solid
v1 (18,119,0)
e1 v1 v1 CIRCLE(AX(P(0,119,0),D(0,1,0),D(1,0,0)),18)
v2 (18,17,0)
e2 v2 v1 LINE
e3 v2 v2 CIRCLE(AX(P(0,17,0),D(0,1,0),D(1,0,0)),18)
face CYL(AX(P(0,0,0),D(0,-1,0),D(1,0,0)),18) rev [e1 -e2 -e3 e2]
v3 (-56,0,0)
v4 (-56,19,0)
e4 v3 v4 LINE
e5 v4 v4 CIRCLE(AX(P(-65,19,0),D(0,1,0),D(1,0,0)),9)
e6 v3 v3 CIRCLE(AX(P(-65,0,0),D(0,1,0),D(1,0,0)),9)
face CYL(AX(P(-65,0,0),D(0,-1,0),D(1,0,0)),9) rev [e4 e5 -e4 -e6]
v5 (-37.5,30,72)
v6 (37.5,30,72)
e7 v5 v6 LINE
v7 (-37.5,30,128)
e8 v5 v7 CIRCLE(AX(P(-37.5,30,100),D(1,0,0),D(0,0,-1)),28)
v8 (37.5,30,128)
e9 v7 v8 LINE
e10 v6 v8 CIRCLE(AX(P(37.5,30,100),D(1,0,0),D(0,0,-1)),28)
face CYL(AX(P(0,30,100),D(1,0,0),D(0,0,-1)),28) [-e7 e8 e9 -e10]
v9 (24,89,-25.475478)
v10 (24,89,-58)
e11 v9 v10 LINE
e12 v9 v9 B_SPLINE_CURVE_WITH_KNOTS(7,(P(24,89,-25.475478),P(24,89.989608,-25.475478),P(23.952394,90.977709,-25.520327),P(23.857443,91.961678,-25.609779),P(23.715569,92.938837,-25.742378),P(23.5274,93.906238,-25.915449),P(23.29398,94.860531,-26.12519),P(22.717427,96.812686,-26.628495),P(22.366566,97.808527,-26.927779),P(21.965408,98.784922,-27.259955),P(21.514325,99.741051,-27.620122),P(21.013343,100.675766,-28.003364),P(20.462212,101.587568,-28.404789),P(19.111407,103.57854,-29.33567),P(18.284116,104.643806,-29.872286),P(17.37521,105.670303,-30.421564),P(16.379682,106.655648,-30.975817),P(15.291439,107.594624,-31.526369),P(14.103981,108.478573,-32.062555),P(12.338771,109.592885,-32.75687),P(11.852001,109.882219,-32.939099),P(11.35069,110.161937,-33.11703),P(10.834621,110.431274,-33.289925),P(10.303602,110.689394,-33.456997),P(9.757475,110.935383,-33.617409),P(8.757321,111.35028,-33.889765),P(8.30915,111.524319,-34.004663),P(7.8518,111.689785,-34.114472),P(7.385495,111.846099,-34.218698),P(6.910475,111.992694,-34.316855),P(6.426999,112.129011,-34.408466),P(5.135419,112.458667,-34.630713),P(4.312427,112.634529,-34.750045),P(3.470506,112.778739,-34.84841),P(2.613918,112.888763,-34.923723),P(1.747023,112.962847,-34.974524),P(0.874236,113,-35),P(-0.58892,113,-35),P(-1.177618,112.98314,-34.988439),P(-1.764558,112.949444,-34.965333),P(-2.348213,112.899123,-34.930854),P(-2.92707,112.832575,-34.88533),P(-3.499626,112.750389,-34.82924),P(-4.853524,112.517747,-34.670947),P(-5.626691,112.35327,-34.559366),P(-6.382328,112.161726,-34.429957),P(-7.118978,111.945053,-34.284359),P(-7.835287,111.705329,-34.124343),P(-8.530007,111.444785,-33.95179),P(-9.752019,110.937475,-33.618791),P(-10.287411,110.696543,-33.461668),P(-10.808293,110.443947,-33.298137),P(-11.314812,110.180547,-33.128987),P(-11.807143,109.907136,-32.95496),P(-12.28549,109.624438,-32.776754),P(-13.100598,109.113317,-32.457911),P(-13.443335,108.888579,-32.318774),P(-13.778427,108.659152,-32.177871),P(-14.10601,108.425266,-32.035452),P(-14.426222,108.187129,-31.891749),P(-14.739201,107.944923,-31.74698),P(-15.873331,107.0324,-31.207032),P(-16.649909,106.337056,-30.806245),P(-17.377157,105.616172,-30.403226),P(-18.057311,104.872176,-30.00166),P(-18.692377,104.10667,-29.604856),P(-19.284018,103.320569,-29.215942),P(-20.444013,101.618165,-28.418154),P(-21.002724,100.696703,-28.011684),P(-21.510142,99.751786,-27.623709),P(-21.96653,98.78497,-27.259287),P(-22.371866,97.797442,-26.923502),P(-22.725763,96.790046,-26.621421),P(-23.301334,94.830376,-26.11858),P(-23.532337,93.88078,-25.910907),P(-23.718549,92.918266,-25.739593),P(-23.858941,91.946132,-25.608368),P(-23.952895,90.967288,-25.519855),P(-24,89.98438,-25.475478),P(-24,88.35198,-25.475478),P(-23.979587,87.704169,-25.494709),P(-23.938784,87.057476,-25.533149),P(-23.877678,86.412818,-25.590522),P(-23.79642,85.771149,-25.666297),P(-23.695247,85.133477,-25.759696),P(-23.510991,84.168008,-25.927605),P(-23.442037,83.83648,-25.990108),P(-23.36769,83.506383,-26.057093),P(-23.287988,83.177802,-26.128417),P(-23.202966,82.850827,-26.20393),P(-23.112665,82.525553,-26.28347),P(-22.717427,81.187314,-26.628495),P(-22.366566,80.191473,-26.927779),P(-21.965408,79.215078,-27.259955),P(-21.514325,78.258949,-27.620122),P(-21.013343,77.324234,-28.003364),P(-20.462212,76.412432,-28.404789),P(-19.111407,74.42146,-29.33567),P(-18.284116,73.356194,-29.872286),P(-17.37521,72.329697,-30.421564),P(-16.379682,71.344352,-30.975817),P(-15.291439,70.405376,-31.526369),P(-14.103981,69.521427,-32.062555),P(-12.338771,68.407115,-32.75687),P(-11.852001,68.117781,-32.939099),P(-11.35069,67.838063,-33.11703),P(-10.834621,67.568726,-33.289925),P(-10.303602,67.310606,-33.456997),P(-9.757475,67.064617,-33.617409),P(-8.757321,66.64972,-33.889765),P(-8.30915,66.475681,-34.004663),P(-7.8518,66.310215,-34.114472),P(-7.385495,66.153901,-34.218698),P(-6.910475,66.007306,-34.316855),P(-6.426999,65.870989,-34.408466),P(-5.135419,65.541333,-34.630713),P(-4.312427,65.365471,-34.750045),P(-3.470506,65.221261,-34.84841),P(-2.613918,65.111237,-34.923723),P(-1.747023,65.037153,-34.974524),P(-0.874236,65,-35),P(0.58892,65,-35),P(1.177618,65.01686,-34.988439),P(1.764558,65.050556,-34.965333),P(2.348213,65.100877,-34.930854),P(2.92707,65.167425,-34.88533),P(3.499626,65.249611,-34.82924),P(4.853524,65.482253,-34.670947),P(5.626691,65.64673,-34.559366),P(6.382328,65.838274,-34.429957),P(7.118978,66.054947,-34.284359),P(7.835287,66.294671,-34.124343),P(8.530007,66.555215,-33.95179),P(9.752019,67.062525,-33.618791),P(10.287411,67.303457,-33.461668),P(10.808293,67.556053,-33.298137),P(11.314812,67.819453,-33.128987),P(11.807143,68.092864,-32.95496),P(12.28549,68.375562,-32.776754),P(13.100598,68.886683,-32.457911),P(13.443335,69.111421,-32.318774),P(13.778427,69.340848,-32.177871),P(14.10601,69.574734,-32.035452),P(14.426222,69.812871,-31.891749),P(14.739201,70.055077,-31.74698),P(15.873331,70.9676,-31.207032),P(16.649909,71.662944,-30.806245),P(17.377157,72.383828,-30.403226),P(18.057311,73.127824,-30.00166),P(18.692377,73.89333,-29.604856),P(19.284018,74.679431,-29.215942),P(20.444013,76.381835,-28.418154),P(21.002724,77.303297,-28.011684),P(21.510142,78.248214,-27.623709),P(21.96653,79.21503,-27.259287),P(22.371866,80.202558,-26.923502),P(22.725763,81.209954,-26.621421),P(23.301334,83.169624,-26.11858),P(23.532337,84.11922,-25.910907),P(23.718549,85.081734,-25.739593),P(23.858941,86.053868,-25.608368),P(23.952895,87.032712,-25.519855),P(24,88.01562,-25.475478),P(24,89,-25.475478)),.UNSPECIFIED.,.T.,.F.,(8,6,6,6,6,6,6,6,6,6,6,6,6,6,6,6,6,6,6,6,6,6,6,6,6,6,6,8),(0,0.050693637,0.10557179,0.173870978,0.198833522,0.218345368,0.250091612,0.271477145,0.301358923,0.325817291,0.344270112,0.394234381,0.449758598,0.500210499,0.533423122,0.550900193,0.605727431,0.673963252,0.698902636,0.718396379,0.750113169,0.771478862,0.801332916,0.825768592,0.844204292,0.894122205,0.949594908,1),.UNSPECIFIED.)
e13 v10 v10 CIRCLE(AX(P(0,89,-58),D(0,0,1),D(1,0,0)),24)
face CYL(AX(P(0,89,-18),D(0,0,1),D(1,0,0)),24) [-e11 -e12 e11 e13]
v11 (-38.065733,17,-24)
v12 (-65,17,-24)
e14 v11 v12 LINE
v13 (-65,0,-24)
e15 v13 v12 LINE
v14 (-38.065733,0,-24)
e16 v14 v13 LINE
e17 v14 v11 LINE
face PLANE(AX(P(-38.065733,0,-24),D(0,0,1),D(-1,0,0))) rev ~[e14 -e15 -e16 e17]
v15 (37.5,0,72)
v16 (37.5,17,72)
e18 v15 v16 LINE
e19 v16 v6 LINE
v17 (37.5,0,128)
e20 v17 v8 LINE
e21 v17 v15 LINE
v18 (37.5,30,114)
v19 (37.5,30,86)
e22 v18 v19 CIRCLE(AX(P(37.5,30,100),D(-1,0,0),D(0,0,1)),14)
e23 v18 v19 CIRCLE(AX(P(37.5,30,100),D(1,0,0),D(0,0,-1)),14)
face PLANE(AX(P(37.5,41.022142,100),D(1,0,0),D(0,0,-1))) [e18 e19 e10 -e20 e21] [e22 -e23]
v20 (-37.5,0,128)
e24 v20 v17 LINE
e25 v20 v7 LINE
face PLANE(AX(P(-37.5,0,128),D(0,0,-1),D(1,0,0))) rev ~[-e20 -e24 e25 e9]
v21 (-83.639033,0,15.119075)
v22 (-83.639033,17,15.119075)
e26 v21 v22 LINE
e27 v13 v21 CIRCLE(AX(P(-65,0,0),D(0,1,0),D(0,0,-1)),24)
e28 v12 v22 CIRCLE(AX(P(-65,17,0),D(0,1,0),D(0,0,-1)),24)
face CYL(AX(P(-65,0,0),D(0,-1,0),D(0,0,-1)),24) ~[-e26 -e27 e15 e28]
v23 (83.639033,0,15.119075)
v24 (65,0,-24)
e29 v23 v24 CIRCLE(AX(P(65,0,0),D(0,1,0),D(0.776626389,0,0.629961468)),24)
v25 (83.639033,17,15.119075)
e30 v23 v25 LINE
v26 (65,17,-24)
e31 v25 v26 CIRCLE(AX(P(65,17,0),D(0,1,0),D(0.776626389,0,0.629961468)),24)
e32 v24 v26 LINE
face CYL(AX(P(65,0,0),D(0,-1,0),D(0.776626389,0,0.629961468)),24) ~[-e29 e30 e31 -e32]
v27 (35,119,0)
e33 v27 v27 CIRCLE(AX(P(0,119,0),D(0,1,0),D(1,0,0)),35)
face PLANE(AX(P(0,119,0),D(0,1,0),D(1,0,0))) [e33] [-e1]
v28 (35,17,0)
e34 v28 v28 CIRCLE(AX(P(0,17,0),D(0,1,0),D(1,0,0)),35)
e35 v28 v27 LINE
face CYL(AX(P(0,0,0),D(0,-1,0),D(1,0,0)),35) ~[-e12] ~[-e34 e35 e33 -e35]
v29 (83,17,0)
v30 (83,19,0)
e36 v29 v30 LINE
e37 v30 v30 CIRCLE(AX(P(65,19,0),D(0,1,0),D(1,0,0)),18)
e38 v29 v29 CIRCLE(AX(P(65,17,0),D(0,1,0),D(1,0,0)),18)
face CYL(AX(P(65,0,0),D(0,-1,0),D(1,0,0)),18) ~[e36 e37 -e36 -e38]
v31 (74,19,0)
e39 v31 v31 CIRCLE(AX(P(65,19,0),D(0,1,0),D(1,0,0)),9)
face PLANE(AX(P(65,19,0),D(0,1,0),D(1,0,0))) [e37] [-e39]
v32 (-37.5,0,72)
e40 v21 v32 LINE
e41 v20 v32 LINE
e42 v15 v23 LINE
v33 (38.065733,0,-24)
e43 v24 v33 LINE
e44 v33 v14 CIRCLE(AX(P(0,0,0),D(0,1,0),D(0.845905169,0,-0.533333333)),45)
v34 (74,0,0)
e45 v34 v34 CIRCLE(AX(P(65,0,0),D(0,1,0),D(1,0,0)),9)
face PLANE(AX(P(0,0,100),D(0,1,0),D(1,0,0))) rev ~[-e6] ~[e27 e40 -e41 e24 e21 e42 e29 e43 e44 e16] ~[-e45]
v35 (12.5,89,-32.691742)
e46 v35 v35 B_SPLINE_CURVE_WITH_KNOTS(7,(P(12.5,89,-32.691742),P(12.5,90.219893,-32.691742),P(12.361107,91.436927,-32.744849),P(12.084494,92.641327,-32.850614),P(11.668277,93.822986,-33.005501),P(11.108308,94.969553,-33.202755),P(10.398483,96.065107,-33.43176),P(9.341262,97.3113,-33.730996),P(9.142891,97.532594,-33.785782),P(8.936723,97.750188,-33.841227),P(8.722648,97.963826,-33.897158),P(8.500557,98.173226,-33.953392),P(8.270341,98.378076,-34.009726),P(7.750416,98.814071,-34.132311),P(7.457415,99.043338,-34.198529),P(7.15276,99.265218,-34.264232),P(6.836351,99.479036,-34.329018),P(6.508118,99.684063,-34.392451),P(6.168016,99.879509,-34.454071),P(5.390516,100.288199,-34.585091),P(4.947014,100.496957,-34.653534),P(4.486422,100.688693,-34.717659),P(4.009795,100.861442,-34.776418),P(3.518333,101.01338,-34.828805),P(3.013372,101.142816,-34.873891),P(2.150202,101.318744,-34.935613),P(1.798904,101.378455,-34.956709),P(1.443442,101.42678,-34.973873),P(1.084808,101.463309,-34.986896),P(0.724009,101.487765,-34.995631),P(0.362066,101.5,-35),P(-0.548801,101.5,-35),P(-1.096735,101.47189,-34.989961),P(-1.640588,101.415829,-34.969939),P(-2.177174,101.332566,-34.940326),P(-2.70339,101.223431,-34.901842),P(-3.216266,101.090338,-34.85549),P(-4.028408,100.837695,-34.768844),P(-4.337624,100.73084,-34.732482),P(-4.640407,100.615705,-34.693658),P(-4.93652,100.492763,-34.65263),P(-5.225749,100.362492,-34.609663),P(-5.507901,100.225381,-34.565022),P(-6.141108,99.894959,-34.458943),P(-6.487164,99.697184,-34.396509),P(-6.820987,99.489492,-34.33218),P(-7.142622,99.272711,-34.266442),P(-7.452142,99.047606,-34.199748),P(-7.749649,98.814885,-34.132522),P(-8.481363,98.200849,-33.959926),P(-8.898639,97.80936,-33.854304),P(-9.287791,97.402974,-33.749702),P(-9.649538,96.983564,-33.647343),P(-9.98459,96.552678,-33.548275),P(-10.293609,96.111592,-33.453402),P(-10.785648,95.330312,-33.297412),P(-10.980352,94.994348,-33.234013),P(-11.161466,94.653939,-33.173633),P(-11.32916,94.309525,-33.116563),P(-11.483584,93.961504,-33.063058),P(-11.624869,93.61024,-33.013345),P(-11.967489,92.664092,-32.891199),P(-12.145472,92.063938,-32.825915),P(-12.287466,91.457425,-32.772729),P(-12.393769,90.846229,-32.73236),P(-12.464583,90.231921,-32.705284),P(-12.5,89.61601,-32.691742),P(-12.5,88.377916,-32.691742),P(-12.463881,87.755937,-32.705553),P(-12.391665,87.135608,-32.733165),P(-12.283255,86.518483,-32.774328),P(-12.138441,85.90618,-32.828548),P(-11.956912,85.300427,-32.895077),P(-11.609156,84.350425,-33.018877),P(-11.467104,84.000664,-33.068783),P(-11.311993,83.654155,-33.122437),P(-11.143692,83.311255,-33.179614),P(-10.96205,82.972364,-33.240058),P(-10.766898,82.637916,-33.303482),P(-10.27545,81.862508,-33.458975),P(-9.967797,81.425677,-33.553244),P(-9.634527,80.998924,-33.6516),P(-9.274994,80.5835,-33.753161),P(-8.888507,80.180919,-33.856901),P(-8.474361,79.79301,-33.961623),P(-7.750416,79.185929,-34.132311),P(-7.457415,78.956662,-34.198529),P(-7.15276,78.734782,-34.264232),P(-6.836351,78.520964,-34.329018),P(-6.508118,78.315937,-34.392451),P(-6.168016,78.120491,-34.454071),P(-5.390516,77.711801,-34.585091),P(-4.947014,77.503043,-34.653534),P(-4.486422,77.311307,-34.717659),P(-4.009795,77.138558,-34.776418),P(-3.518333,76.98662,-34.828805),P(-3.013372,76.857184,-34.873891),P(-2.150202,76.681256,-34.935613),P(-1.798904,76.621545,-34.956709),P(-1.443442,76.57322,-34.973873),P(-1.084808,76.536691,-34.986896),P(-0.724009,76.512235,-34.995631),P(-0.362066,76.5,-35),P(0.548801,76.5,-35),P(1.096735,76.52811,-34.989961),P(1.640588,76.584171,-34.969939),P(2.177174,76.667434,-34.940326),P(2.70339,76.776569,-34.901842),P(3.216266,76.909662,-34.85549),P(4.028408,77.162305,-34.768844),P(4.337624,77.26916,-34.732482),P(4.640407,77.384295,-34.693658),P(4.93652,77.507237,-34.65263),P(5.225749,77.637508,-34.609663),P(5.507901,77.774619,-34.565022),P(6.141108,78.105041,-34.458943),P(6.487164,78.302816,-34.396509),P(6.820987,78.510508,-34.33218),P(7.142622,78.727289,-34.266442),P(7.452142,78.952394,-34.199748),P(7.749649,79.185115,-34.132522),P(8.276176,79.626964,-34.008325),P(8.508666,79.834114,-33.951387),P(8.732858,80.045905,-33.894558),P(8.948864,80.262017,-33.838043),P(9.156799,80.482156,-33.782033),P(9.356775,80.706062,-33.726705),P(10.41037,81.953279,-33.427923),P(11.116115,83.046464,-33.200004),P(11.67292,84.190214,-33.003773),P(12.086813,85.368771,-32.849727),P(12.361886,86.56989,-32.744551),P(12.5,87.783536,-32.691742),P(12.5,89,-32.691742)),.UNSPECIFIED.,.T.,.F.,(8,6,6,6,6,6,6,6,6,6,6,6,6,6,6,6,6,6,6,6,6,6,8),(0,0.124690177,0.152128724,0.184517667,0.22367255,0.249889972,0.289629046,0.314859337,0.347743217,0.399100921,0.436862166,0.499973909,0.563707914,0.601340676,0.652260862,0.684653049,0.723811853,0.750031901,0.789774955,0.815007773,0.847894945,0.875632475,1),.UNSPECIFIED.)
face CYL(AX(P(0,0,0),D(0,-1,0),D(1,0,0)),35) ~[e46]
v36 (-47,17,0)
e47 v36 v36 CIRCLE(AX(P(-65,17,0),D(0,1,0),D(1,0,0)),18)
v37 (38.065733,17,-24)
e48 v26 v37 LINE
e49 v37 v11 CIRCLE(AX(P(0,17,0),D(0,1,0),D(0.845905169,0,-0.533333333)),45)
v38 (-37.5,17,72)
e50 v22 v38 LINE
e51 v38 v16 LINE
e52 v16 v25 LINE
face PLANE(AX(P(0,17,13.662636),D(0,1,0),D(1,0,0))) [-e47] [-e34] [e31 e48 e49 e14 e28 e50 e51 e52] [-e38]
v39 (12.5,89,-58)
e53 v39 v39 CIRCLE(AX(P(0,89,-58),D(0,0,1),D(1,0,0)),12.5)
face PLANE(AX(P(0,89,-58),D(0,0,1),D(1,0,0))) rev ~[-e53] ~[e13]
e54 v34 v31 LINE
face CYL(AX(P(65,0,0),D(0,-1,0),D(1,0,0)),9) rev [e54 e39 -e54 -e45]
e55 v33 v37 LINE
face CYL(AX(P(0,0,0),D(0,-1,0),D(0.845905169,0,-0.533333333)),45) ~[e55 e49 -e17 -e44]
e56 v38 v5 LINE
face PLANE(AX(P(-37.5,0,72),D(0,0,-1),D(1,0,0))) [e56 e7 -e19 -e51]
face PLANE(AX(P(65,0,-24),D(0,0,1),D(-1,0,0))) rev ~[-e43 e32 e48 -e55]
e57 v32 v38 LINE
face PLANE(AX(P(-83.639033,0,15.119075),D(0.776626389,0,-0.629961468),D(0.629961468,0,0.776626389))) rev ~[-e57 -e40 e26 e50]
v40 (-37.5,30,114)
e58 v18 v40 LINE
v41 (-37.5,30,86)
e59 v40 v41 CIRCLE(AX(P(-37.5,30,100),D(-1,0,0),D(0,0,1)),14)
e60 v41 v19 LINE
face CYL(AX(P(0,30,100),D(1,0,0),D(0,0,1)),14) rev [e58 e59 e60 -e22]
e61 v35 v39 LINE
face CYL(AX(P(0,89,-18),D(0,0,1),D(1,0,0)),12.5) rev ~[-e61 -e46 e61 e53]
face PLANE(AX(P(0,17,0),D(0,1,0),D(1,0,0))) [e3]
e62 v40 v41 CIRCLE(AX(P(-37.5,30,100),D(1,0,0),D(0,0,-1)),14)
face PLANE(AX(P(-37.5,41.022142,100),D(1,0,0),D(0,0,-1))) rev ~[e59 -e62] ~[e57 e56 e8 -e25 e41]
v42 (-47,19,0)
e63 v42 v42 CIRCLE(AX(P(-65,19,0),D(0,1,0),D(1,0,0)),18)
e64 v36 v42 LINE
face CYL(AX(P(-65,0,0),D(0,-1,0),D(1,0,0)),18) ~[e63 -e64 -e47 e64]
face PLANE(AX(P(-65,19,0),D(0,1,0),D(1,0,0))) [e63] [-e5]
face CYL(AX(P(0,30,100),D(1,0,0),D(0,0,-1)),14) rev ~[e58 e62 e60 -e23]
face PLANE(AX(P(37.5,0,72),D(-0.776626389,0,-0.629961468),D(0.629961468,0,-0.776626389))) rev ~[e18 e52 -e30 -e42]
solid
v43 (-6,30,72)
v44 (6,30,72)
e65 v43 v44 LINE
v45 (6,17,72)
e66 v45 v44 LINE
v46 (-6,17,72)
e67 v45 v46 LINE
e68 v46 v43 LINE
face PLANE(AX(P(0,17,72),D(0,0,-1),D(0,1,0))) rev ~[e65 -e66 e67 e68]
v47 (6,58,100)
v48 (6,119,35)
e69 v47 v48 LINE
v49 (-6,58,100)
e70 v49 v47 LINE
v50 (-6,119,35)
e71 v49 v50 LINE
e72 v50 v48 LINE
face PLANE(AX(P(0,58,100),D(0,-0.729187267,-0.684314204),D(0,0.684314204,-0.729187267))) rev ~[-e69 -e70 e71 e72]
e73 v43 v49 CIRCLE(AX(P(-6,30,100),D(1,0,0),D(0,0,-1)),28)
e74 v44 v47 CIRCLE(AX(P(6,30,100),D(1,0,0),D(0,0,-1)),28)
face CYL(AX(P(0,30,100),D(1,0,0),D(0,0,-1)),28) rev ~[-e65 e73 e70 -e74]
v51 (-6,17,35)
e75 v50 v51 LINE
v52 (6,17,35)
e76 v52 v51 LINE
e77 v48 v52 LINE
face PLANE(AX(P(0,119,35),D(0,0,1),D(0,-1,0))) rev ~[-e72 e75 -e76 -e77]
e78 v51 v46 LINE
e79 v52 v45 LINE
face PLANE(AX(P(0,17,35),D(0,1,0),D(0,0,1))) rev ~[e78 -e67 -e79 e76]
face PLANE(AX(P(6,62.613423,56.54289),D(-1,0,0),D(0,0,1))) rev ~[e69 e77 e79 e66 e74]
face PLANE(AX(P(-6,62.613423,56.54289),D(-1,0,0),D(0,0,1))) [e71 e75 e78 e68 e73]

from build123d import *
from build123d.topology import SkipClean

# Parameters (mm, degrees)
SKETCH1_R             = 35
SKETCH1_R_2           = 18
BOSS_EXTRUDE1_DEPTH   = 17
BOSS_EXTRUDE1_2_DEPTH = 17
SKETCH1_4_R           = 18
SKETCH1_4_R_2         = 9
BOSS_EXTRUDE2_DEPTH   = 19
SKETCH1_6_R           = 35
SKETCH1_6_R_2         = 18
BOSS_EXTRUDE3_DEPTH   = 119
BOSS_EXTRUDE4_START   = -18
SKETCH4_R             = 24
SKETCH4_R_2           = 12.5
BOSS_EXTRUDE4_DEPTH   = 40
SKETCH5_W             = 75
SKETCH5_H             = 56
BOSS_EXTRUDE5_DEPTH   = 30
BOSS_EXTRUDE6_DEPTH   = 37.5
SKETCH6_3_R           = 14
CUT_EXTRUDE2_DEPTH    = 37.5
BOSS_EXTRUDE14_DEPTH  = 6


with BuildPart() as part:
    # Sketch1 → Boss-Extrude1 (new body)
    with BuildSketch(Plane(origin=(0, 0, 0), x_dir=(1, 0, 0), z_dir=(0, 1, 0))):
        with BuildLine():
            ThreePointArc((38.065732621, 24), (0, 45), (-38.065732621, 24))
            Line((-38.065732621, 24), (-65, 24))
            ThreePointArc((-65, 24), (-86.666308011, 10.323327815), (-83.639033344, -15.119075236))
            Line((-83.639033344, -15.119075236), (-37.5, -72))
            Line((-37.5, -72), (37.5, -72))
            Line((37.5, -72), (83.639033344, -15.119075236))
            ThreePointArc((83.639033344, -15.119075236), (86.666308011, 10.323327815), (65, 24))
            Line((65, 24), (38.065732621, 24))
        make_face()
        Circle(SKETCH1_R, mode=Mode.SUBTRACT)
        with Locations((65, 0)):
            Circle(SKETCH1_R_2, mode=Mode.SUBTRACT)
        with Locations((-65, 0)):
            Circle(SKETCH1_R_2, mode=Mode.SUBTRACT)
    extrude(amount=BOSS_EXTRUDE1_DEPTH)

    # Sketch1<4> → Boss-Extrude2 (add)
    # profile 1 of 2: a face of its own
    with BuildSketch(Plane(origin=(0, 0, 0), x_dir=(1, 0, 0), z_dir=(0, 1, 0))):
        with Locations((-65, 0)):
            Circle(SKETCH1_4_R)
        with Locations((-65, 0)):
            Circle(SKETCH1_4_R_2, mode=Mode.SUBTRACT)
    # profile 2 of 2: a face of its own
    with BuildSketch(Plane(origin=(0, 0, 0), x_dir=(1, 0, 0), z_dir=(0, 1, 0))):
        with Locations((65, 0)):
            Circle(SKETCH1_4_R)
        with Locations((65, 0)):
            Circle(SKETCH1_4_R_2, mode=Mode.SUBTRACT)
    extrude(amount=BOSS_EXTRUDE2_DEPTH)



with BuildPart() as body_2:
    # Sketch1 → Boss-Extrude1 2 (new body)
    with BuildSketch(Plane(origin=(0, 0, 0), x_dir=(1, 0, 0), z_dir=(0, 1, 0))):
        Circle(SKETCH1_R_2)
    extrude(amount=BOSS_EXTRUDE1_2_DEPTH)


with BuildPart() as part_1:
    add(part.part)

    add(body_2.part)  # Boss-Extrude3 merges body 2
    # Sketch1<6> → Boss-Extrude3 (add)
    with BuildSketch(Plane(origin=(0, 0, 0), x_dir=(1, 0, 0), z_dir=(0, 1, 0))):
        Circle(SKETCH1_6_R)
        Circle(SKETCH1_6_R_2, mode=Mode.SUBTRACT)
    extrude(amount=BOSS_EXTRUDE3_DEPTH)

    # Sketch4 → Boss-Extrude4 (add)
    with BuildSketch(Plane.XY.offset(BOSS_EXTRUDE4_START)):
        with Locations((0, 89)):
            Circle(SKETCH4_R)
        with Locations((0, 89)):
            Circle(SKETCH4_R_2, mode=Mode.SUBTRACT)
    extrude(amount=-BOSS_EXTRUDE4_DEPTH)

    # Sketch5 → Boss-Extrude5 (add)
    with BuildSketch(Plane(origin=(0, 0, 0), x_dir=(1, 0, 0), z_dir=(0, 1, 0))):
        with Locations((0, -100)):
            Rectangle(SKETCH5_W, SKETCH5_H)
    extrude(amount=BOSS_EXTRUDE5_DEPTH)

    # Sketch6 → Boss-Extrude6 (add, symmetric)
    with BuildSketch(Plane(origin=(0, 0, 0), x_dir=(0, 0, -1), z_dir=(1, 0, 0))):
        with BuildLine():
            ThreePointArc((-114, 30), (-100, 44), (-86, 30))
            Line((-86, 30), (-72, 30))
            ThreePointArc((-72, 30), (-100, 58), (-128, 30))
            Line((-128, 30), (-114, 30))
        make_face()
    extrude(amount=BOSS_EXTRUDE6_DEPTH, both=True)

    # Sketch6<3> → Cut-Extrude2 (cut, symmetric)
    with SkipClean():  # the faces are left unmerged after this step: merging them gives an invalid solid
        with BuildSketch(Plane(origin=(0, 0, 0), x_dir=(0, 0, -1), z_dir=(1, 0, 0))):
            with Locations((-100, 30)):
                Circle(SKETCH6_3_R)
        extrude(amount=CUT_EXTRUDE2_DEPTH, both=True, mode=Mode.SUBTRACT)


with BuildPart() as body_2_2:
    # Sketch9 → Boss-Extrude14 (new, symmetric)
    with BuildSketch(Plane(origin=(0, 0, 0), x_dir=(0, 0, -1), z_dir=(1, 0, 0))):
        with BuildLine():
            Line((-35, 119), (-35, 17))
            Line((-35, 17), (-72, 17))
            Line((-72, 17), (-72, 30))
            ThreePointArc((-72, 30), (-80.201010127, 49.798989873), (-100, 58))
            Line((-100, 58), (-35, 119))
        make_face()
    extrude(amount=BOSS_EXTRUDE14_DEPTH, both=True)


solid = Compound([part_1.part, body_2_2.part])
